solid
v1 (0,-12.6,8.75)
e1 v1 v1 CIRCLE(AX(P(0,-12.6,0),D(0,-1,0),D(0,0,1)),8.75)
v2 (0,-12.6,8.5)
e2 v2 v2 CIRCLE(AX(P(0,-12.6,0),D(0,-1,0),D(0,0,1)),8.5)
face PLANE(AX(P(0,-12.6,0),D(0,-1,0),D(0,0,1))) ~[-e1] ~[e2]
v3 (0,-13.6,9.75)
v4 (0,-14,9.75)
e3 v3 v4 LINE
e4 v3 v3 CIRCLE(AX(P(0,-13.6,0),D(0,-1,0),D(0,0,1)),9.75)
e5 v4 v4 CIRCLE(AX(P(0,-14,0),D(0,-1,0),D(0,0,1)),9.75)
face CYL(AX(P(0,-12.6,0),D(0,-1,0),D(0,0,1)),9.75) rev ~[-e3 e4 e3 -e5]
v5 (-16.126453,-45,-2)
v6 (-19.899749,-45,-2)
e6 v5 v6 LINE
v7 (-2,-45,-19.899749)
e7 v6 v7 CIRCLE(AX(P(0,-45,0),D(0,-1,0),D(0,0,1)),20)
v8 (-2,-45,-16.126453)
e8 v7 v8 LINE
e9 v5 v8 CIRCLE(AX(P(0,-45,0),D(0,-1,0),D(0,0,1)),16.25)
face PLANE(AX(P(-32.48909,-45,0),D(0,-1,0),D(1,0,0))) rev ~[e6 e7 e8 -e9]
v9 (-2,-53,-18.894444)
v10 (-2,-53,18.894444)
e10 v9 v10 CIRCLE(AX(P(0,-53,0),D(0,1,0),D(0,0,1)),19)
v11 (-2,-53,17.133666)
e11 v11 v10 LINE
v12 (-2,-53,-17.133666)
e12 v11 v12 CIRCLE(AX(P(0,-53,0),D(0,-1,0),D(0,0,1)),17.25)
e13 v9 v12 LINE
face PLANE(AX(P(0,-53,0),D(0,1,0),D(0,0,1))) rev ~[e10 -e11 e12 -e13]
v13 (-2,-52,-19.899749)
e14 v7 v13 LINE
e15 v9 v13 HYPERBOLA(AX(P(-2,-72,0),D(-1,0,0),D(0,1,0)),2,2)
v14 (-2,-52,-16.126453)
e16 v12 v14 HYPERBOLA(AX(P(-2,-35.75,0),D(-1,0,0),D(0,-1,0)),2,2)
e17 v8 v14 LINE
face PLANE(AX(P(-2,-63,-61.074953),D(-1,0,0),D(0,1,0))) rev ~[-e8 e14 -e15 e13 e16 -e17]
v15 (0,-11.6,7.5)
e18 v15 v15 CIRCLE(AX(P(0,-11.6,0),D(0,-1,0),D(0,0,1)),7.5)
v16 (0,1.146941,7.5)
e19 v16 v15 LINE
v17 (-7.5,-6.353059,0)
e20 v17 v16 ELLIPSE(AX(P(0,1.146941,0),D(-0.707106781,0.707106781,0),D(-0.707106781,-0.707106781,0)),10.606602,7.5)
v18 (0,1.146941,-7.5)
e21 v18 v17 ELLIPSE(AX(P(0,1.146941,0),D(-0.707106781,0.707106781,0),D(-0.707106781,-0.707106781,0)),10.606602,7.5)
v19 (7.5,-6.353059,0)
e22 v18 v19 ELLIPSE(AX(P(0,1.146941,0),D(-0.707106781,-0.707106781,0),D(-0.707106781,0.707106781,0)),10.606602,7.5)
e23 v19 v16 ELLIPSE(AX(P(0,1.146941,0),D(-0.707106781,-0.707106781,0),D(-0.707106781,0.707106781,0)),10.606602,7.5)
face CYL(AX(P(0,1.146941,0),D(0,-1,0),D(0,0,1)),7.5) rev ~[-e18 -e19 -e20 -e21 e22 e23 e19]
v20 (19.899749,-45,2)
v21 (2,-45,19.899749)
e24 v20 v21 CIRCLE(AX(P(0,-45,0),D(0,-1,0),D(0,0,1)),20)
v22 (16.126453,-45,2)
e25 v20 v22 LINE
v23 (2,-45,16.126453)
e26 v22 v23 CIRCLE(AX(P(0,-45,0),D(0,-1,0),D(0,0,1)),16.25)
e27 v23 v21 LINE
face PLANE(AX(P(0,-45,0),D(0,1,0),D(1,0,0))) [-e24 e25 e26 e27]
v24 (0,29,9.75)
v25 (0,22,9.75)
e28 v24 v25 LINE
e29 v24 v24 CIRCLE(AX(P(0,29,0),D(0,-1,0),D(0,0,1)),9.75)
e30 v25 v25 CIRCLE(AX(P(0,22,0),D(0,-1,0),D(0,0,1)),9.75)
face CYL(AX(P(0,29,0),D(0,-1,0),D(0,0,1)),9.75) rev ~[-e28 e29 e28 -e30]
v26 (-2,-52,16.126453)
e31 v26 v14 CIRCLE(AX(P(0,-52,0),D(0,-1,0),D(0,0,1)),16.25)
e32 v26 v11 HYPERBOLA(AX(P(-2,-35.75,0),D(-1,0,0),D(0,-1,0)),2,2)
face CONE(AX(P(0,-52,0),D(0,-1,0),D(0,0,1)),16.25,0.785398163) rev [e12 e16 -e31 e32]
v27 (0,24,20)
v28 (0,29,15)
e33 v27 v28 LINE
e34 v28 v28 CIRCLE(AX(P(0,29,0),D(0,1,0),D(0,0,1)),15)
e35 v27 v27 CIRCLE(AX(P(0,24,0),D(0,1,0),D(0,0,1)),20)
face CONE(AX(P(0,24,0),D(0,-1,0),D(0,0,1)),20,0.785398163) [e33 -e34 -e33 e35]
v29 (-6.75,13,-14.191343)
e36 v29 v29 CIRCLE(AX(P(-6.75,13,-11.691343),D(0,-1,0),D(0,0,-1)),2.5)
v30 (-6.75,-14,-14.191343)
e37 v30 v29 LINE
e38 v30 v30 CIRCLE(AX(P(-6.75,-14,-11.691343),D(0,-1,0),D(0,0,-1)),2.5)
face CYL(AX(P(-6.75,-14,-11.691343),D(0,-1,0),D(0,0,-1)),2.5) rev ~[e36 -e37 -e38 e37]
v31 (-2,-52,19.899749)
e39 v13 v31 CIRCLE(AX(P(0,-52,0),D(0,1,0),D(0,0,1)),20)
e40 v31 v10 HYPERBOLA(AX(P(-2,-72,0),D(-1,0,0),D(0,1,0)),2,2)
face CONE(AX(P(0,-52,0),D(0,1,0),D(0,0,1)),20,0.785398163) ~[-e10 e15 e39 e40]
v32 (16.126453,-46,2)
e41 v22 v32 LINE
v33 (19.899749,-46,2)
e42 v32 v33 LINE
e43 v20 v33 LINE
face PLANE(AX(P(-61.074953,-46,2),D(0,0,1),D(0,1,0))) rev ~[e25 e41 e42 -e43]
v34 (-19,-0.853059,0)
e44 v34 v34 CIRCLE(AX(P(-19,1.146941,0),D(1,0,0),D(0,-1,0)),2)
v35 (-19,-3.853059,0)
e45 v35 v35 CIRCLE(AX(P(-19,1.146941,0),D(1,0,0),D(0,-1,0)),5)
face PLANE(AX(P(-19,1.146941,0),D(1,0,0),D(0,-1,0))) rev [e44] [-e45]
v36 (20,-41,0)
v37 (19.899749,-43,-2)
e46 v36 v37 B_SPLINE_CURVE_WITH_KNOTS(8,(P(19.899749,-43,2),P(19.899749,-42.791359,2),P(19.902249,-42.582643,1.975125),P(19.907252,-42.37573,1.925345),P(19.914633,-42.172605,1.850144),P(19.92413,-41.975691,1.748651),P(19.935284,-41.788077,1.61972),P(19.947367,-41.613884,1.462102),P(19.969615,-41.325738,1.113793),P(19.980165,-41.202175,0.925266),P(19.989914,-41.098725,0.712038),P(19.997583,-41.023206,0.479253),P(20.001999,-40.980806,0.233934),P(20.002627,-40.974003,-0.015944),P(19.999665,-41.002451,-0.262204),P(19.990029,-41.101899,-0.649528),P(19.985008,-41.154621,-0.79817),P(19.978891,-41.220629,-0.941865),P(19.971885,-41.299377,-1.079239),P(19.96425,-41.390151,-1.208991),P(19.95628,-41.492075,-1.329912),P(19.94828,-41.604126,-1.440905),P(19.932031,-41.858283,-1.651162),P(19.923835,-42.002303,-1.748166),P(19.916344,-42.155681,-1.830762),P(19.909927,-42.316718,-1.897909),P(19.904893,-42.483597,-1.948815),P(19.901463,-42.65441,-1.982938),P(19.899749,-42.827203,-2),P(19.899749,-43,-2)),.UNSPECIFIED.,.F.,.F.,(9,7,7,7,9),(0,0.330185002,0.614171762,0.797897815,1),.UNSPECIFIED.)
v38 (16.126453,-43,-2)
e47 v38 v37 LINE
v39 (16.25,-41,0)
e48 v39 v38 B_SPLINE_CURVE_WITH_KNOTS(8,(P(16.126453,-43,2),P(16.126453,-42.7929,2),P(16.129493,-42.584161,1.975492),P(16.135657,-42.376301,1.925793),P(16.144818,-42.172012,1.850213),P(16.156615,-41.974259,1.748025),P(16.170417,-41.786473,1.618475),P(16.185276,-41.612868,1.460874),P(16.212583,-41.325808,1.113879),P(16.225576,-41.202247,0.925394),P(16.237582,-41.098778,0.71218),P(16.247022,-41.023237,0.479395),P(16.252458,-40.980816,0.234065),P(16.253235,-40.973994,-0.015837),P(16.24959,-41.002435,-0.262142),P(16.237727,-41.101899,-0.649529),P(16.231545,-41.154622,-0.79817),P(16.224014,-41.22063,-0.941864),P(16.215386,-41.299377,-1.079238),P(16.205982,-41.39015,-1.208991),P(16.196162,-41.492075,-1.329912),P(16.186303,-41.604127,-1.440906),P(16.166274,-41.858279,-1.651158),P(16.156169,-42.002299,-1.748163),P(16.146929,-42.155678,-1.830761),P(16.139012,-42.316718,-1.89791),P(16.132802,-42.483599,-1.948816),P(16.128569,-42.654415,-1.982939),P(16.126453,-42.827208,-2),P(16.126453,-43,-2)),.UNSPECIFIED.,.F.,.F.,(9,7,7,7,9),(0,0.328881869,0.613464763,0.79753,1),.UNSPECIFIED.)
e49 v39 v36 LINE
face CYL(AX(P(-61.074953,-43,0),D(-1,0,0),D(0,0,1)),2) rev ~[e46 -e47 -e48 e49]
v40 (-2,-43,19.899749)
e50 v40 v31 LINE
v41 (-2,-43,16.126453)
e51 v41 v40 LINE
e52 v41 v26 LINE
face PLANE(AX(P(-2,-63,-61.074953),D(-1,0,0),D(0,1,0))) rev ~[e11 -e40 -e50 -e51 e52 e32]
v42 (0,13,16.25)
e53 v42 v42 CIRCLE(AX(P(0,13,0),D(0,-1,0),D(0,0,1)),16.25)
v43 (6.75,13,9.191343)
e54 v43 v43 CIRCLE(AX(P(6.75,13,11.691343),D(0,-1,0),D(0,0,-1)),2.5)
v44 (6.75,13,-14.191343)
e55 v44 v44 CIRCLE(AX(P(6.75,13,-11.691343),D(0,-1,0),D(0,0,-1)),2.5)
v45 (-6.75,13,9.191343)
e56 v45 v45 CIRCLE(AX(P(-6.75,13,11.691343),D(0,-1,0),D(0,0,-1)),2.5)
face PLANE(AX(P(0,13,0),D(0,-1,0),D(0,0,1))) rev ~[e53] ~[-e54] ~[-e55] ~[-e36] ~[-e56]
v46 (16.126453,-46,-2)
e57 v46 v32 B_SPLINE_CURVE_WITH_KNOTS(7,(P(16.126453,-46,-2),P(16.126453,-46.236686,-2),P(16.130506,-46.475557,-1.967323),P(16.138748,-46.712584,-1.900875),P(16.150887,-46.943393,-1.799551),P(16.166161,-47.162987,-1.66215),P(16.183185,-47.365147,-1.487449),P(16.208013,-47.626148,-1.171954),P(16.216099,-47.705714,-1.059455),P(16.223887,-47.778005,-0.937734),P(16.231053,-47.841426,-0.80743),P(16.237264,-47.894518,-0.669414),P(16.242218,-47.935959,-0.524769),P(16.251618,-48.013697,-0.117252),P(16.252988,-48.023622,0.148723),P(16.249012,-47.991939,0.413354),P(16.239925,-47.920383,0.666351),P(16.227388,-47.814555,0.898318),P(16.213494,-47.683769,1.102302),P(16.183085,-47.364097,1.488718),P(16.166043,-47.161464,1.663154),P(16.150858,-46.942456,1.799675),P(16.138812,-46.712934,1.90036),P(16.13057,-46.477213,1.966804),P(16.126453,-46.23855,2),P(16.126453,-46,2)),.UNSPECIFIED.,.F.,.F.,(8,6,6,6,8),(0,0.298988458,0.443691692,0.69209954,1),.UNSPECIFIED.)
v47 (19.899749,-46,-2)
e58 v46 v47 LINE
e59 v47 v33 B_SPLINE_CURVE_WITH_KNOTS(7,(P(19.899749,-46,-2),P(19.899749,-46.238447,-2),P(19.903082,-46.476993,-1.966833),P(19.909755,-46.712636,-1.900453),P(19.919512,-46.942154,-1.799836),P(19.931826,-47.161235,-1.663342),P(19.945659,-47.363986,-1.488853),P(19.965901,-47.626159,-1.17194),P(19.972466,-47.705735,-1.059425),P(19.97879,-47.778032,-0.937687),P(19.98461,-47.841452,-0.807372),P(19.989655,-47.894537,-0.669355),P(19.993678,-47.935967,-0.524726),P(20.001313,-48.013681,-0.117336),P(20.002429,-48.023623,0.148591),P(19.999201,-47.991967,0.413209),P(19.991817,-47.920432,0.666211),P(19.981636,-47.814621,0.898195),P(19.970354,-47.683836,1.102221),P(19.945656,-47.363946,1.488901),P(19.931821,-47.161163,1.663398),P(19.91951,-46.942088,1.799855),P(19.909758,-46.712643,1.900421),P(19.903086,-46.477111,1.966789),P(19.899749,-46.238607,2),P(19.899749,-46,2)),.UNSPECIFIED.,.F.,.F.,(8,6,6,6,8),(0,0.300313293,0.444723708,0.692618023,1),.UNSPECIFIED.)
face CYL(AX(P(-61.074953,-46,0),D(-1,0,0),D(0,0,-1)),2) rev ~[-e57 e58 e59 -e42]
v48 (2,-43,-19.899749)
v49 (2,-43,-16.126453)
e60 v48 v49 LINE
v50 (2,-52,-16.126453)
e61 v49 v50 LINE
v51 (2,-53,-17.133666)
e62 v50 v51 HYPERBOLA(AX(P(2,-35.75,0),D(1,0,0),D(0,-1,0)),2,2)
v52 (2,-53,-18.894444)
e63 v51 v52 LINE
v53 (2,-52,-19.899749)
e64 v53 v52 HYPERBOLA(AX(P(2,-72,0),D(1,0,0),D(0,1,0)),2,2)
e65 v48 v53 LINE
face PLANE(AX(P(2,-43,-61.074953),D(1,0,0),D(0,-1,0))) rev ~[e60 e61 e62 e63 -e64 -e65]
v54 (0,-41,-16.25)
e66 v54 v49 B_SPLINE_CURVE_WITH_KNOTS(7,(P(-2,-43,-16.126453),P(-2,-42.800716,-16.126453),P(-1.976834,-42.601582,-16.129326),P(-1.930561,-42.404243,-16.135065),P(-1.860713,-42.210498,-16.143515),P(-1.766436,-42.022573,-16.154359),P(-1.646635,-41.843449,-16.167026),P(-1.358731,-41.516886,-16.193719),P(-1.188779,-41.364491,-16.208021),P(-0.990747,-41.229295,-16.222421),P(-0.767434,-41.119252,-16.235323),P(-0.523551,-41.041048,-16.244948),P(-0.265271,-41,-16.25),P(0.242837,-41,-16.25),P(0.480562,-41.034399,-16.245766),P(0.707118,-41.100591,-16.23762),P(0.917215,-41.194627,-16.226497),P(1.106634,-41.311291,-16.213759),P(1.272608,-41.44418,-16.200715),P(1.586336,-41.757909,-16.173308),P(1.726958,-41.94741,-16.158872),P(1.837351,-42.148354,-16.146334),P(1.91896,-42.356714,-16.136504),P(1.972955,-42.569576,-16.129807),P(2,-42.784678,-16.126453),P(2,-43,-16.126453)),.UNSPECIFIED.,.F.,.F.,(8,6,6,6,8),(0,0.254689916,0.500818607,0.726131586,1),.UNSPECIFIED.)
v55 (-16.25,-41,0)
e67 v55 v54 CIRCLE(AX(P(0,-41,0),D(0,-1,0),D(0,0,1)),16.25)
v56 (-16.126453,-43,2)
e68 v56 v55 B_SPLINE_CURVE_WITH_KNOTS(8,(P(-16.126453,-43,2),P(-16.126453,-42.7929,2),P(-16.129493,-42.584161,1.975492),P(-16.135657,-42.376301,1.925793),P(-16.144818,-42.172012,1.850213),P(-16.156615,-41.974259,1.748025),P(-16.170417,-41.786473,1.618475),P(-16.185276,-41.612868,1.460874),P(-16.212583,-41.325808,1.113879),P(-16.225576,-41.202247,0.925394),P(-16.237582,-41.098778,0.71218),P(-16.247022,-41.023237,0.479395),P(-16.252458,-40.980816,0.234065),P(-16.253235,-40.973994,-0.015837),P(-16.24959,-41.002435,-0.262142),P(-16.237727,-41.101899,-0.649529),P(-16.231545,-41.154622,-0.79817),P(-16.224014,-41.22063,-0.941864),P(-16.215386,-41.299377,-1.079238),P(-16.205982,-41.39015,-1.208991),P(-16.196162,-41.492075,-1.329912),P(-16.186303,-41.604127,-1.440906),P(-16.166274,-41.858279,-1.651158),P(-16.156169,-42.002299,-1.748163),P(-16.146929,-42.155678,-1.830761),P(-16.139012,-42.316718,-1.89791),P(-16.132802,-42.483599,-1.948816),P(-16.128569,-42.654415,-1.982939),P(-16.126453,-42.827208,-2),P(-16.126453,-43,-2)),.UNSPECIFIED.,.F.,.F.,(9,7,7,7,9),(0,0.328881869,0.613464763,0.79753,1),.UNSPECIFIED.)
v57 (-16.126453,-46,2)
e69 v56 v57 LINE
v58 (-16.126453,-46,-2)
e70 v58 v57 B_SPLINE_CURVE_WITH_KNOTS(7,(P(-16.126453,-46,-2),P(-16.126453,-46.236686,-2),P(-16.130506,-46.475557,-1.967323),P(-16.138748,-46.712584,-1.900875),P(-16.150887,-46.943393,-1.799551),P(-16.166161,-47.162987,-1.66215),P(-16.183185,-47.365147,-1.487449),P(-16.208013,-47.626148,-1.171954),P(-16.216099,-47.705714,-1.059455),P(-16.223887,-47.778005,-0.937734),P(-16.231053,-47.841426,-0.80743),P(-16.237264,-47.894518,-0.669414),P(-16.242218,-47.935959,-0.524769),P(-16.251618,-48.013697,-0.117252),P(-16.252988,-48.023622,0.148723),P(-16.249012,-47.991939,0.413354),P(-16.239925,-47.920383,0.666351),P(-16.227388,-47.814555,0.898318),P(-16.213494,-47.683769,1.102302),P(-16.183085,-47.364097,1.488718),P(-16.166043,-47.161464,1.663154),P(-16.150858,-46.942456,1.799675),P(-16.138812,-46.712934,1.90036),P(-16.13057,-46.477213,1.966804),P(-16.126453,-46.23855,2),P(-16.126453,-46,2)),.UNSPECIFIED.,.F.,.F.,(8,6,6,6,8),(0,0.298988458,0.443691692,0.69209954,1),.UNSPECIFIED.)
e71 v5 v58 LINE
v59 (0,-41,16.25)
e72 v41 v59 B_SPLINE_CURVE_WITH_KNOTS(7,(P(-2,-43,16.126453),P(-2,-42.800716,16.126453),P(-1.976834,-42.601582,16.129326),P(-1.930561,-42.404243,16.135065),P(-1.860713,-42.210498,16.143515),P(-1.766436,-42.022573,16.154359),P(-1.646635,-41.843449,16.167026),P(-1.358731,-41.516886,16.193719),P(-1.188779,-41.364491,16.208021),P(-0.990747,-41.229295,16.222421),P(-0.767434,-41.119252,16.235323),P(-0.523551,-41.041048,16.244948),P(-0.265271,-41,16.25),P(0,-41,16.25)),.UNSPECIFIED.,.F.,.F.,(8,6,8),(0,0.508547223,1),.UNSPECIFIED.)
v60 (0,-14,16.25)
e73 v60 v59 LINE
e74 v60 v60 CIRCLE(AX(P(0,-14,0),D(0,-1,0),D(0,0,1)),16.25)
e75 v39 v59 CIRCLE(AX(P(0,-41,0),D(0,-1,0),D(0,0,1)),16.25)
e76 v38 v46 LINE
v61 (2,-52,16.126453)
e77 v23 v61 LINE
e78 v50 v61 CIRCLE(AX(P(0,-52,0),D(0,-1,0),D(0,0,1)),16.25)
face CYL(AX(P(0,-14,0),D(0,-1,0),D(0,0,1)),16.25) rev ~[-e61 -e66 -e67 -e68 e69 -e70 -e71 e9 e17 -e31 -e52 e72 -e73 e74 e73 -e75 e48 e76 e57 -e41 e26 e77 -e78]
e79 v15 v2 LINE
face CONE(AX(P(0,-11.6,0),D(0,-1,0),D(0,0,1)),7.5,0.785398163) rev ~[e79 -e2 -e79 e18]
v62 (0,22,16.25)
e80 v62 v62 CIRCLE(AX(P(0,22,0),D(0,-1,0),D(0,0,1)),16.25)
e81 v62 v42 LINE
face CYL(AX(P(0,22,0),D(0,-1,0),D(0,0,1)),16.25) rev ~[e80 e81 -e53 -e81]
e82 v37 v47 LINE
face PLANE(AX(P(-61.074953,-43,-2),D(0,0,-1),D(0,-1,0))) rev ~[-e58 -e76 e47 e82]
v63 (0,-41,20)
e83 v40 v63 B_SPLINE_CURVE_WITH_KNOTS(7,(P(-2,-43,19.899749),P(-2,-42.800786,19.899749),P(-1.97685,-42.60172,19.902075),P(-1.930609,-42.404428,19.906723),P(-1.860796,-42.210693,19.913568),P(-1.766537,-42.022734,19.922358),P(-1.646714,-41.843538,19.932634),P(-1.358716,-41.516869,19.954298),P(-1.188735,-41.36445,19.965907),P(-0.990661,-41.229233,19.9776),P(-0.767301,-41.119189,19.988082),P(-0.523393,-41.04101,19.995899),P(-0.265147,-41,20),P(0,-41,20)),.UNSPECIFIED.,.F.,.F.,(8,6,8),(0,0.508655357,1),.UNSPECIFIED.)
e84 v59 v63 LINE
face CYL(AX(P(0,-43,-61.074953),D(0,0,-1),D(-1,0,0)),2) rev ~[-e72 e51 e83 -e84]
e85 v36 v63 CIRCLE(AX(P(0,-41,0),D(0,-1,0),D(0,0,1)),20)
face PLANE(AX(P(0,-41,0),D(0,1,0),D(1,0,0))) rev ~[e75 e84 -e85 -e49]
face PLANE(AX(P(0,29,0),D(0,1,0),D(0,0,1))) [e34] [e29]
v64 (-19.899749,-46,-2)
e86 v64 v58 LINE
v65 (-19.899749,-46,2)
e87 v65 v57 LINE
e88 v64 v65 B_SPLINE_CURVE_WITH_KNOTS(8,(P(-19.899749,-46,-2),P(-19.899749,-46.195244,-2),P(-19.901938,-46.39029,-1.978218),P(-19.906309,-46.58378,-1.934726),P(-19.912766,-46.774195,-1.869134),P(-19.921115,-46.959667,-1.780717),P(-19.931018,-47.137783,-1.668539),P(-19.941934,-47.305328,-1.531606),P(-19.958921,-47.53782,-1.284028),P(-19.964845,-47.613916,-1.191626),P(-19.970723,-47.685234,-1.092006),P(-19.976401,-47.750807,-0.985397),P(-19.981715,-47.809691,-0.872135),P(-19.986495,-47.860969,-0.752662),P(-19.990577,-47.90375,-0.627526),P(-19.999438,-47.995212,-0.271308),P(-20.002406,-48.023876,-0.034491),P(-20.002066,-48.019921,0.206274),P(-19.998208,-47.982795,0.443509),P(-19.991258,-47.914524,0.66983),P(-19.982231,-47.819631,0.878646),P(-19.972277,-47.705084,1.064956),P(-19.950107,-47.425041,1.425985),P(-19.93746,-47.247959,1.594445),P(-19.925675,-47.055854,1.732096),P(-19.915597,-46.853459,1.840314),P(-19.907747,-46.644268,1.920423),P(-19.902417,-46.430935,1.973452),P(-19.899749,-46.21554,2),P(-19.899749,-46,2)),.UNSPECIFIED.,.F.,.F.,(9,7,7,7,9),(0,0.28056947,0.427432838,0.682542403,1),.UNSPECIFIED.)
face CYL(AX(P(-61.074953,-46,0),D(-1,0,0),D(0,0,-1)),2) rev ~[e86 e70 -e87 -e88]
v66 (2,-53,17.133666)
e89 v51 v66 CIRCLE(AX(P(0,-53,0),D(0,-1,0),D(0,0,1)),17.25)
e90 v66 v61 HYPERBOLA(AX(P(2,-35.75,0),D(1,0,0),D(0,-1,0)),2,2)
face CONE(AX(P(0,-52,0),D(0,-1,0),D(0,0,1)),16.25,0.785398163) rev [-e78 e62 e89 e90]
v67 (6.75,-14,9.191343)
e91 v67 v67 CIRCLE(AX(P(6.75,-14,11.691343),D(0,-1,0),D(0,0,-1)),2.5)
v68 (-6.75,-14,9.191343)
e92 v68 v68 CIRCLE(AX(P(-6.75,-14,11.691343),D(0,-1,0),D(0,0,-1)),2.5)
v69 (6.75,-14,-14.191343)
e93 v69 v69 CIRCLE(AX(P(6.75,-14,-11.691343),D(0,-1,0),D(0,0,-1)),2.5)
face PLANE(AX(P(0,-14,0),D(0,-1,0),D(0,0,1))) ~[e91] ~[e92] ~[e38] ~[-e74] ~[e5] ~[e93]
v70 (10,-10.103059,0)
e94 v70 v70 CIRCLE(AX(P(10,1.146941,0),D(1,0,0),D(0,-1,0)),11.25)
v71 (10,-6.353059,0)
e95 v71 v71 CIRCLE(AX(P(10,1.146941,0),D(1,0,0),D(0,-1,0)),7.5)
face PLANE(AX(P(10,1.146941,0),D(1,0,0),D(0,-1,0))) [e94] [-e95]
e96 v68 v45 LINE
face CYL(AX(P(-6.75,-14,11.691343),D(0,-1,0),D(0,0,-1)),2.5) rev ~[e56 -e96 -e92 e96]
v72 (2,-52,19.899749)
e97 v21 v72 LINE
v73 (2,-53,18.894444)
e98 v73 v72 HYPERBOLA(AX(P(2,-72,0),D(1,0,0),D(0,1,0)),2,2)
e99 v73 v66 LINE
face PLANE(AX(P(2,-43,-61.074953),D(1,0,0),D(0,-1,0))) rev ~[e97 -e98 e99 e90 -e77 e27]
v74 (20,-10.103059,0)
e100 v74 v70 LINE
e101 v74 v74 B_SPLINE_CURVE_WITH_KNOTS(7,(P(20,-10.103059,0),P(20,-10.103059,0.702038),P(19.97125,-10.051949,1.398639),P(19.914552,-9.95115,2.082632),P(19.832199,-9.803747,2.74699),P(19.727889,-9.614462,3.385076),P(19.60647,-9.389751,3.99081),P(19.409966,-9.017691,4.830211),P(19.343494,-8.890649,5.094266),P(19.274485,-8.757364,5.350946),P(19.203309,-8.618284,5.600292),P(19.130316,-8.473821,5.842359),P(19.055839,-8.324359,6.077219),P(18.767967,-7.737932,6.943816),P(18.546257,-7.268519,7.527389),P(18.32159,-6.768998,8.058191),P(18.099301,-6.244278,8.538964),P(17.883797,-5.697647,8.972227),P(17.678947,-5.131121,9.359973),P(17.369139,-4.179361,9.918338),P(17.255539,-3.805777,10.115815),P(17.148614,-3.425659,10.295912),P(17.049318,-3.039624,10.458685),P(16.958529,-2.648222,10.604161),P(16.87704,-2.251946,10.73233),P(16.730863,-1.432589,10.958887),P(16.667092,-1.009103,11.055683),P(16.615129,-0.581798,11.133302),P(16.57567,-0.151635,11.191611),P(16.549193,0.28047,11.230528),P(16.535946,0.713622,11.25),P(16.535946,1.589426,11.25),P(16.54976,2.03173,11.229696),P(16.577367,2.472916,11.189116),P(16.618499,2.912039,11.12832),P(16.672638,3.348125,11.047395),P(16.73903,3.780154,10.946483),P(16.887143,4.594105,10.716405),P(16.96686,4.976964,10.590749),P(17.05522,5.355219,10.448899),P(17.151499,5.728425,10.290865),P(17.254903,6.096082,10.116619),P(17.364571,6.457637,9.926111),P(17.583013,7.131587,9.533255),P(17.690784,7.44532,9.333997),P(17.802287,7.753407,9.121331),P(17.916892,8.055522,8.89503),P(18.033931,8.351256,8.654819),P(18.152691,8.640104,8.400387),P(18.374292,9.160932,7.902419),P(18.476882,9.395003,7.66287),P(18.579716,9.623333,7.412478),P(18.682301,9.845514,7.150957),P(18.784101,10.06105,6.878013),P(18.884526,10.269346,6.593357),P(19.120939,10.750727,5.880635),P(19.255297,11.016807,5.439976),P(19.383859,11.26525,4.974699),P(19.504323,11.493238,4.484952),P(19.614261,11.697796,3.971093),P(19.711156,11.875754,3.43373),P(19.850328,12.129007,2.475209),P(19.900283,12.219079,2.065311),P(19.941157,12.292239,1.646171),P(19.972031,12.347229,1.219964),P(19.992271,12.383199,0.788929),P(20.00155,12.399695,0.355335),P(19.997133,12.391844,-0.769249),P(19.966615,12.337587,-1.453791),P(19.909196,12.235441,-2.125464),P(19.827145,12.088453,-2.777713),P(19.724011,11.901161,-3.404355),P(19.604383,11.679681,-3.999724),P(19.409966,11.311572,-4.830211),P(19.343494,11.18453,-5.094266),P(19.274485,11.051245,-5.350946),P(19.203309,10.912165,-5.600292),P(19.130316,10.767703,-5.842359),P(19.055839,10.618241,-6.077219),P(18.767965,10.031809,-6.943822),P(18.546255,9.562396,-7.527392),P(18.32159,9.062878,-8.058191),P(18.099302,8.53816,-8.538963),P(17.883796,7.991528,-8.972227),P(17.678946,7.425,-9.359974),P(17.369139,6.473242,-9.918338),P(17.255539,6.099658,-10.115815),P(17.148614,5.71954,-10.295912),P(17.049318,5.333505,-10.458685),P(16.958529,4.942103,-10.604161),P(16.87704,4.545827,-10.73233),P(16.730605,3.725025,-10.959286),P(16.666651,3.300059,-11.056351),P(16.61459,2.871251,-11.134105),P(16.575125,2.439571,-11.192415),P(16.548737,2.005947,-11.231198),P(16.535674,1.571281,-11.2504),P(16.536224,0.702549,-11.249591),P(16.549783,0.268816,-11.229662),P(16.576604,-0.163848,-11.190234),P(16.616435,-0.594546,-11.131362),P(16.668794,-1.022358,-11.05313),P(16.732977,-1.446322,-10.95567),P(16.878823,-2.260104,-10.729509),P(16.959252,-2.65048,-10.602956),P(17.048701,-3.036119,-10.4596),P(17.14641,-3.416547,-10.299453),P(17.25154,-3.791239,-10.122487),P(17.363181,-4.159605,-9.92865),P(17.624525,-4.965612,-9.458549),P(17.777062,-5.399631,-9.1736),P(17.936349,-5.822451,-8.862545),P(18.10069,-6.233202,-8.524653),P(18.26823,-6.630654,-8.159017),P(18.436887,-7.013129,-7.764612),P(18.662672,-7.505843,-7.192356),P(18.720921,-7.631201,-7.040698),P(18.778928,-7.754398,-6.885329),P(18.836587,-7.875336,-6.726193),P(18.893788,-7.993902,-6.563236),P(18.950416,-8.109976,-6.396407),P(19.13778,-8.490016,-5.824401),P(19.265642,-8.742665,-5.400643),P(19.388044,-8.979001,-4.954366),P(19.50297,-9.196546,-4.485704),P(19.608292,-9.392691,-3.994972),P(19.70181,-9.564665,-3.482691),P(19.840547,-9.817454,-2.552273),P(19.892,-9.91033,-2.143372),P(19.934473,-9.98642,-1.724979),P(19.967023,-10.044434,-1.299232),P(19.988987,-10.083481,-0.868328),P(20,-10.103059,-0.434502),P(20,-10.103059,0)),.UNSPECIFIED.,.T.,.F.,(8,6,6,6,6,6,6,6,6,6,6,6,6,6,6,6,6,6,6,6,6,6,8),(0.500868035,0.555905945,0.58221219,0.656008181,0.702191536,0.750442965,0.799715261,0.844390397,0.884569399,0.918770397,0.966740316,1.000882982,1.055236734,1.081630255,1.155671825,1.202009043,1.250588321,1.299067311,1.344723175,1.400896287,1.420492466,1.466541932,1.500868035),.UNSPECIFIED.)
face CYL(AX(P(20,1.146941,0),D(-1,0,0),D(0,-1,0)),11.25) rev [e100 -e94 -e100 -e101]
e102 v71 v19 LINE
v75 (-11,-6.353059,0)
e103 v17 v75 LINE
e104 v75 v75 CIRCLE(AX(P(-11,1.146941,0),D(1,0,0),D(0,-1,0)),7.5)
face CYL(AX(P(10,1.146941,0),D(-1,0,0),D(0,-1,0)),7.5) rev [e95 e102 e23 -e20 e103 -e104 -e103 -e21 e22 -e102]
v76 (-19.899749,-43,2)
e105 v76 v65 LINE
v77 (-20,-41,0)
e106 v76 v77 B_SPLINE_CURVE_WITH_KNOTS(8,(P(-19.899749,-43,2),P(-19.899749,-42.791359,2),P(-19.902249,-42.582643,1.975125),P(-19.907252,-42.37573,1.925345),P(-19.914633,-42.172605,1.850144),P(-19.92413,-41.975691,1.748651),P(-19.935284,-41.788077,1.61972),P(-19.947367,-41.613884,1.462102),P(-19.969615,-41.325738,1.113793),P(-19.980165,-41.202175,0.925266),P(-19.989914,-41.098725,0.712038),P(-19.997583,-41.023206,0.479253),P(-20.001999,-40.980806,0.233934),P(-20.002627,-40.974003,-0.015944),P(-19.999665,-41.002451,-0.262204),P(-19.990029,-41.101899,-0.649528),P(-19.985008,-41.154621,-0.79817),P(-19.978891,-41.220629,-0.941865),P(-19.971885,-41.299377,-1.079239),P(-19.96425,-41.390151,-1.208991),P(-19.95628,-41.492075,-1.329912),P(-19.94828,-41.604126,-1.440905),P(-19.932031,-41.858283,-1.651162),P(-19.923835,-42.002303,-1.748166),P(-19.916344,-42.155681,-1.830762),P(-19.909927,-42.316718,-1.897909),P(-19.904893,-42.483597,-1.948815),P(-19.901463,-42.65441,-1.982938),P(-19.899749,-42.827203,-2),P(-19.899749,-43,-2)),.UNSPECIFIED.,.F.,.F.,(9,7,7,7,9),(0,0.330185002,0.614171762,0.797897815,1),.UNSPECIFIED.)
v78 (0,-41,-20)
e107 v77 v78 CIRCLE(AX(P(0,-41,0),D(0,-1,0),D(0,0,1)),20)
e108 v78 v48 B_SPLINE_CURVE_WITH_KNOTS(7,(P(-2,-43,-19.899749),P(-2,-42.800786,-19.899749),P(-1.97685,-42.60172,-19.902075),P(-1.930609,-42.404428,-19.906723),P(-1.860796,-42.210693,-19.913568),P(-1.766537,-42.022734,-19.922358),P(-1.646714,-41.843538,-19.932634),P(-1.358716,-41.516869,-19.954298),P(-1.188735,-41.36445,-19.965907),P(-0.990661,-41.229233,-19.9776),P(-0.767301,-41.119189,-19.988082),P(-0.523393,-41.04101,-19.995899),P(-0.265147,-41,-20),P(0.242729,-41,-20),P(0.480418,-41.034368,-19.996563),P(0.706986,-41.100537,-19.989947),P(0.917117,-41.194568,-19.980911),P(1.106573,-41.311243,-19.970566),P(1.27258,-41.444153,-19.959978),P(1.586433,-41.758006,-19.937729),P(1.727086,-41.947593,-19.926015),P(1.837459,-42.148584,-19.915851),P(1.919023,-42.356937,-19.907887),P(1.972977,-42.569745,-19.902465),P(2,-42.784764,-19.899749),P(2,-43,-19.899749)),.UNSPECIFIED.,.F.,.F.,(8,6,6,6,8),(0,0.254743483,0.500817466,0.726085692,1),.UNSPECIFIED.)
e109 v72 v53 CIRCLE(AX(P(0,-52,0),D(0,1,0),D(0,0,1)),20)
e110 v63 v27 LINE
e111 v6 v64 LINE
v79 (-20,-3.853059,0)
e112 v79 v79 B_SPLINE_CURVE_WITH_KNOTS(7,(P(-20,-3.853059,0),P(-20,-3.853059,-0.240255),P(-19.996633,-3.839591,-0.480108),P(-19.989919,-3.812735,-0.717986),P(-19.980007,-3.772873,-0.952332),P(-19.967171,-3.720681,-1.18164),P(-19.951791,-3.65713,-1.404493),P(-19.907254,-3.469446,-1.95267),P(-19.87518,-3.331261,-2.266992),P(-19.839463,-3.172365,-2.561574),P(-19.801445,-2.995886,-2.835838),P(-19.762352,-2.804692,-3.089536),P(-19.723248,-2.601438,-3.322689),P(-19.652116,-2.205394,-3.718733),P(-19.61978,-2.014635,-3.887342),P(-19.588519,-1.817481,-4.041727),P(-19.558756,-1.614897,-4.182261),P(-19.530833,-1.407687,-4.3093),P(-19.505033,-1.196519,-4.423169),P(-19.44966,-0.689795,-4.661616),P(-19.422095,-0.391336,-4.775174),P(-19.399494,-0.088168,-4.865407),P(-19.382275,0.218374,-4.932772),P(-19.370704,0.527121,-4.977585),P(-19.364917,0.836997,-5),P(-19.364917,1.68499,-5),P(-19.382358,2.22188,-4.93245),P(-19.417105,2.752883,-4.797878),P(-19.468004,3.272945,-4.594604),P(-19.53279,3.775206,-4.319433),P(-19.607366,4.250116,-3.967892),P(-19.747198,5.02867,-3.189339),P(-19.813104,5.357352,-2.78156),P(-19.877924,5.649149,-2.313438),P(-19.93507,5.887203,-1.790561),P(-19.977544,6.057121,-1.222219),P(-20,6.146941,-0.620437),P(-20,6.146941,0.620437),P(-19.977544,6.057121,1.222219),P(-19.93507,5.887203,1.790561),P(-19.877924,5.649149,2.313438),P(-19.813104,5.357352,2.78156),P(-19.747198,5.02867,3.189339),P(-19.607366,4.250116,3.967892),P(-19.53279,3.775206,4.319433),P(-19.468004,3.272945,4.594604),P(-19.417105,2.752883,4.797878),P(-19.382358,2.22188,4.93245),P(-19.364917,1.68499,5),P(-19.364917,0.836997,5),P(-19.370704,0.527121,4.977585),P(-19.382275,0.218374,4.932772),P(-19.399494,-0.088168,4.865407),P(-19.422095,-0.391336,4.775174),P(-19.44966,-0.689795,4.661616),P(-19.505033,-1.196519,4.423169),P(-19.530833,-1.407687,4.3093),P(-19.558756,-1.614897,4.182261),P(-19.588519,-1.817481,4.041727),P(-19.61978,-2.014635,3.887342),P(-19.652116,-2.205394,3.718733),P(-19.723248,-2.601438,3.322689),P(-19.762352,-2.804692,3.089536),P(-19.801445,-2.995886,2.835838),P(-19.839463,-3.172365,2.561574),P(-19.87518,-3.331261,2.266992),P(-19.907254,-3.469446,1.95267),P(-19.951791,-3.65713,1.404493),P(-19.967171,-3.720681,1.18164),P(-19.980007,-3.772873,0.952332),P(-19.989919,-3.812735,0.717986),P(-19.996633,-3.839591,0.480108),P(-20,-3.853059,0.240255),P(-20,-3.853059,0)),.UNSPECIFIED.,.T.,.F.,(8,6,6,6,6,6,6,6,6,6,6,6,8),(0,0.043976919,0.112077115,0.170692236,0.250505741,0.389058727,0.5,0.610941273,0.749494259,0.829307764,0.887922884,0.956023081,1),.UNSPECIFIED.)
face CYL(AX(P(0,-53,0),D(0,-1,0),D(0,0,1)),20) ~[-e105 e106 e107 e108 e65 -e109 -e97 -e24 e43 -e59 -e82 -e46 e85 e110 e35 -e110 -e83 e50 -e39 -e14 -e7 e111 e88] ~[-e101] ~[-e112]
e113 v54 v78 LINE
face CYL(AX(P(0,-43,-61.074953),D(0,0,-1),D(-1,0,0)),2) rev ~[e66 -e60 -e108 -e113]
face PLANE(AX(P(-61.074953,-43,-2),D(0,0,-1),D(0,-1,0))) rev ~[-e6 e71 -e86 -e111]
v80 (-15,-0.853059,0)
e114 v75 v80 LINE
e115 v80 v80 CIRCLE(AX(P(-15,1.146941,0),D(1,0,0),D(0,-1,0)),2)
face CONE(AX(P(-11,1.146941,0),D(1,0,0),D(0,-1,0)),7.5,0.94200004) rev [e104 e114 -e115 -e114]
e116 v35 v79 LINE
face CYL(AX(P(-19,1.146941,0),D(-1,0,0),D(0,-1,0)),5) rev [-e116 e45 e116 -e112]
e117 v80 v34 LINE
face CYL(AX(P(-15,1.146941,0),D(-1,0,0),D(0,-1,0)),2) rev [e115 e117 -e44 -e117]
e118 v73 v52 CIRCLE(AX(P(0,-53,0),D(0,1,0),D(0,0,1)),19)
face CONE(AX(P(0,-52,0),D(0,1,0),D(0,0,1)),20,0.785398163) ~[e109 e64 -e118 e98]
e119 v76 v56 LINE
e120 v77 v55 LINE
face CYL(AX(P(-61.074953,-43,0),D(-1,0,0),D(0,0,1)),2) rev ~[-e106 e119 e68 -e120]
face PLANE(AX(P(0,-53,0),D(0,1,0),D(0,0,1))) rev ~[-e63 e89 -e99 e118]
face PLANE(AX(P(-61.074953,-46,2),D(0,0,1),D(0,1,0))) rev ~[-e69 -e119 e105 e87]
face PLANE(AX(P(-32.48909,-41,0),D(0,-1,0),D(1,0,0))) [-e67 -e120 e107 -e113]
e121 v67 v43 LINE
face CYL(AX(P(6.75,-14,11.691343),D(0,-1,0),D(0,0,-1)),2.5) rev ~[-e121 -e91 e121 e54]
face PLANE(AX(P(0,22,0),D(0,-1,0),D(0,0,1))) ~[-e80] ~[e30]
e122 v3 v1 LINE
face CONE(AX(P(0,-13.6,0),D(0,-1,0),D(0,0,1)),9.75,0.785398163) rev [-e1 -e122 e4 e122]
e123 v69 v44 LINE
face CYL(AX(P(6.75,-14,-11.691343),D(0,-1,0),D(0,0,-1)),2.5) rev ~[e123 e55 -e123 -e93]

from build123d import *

# Parameters (mm, degrees)
BOSS_EXTRUDE1_DEPTH      = 29
BOSS_EXTRUDE1_DEPTH_BACK = 53
SKETCH2_R                = 20
CHAMFER1_SIZE            = 5
CHAMFER3_SIZE            = 1
CUT_EXTRUDE1_DEPTH       = 61.074953251
CUT_EXTRUDE1_DEPTH_BACK  = 61.074953251
CUT_EXTRUDE2_DEPTH       = 61.074953261
CUT_EXTRUDE2_DEPTH_BACK  = 61.074953261
SKETCH9_W                = 39.403997472
SKETCH9_H                = 4
CUT_EXTRUDE3_DEPTH       = 61.074953261
SKETCH10_W               = 32.489089837
SKETCH10_H               = 4
CUT_EXTRUDE5_DEPTH       = 61.074953261
SKETCH12_R               = 2.5
CUT_EXTRUDE6_DEPTH       = 27


with BuildPart() as part:
    # Sketch2 → Boss-Extrude1 (new, two sides: drawn at the far end of the back side and taken through both)
    with BuildSketch(Plane(origin=(0, 0, 0), x_dir=(1, 0, 0), z_dir=(0, 1, 0)).offset(-BOSS_EXTRUDE1_DEPTH_BACK)):
        with Locations(Location((0, 0, 0), (0, 0, 270))):
            Circle(SKETCH2_R)
    extrude(amount=BOSS_EXTRUDE1_DEPTH + BOSS_EXTRUDE1_DEPTH_BACK)

    # Chamfer1
    chamfer1_edges = [part.edges().sort_by_distance(p)[0] for p in [
        (0, 29, -20),
    ]]
    chamfer(chamfer1_edges, length=CHAMFER1_SIZE)

    # Sketch3 → Cut-Revolve1 (revolve, cut)
    with BuildSketch(Plane.XY, mode=Mode.PRIVATE) as cut_revolve1_sk:
        Polygon((20, 1.146940532), (20, 12.396940532), (10, 12.396940532), (10, 8.646940532), (-11, 8.646940532), (-15, 3.146940532), (-19, 3.146940532), (-19, 6.146940532), (-20, 6.146940532), (-20, 1.146940532), align=None)
    revolve(cut_revolve1_sk.sketch.rotate(Axis((-20, 1.146940532, 0), (1, 0, 0)), 180), axis=Axis((-20, 1.146940532, 0), (1, 0, 0)), mode=Mode.SUBTRACT)

    # Sketch4 → Cut-Revolve2 (revolve, cut)
    with BuildSketch(Plane(origin=(0, 0, 0), x_dir=(0, 0, -1), z_dir=(1, 0, 0))):
        Polygon((0, 13), (0, 29), (-9.75, 29), (-9.75, 22), (-16.25, 22), (-16.25, 13), align=None)
        Polygon((0, -53), (0, 1.146940532), (-7.5, 1.146940532), (-7.5, -12.6), (-9.75, -12.6), (-9.75, -14), (-16.25, -14), (-16.25, -53), align=None)
    revolve(axis=Axis((0, 29, 0), (0, -1, 0)), mode=Mode.SUBTRACT)

    # Chamfer3
    chamfer3_edges = [part.edges().sort_by_distance(p)[0] for p in [
        (0, -12.6, -7.5),
        (0, -12.6, -9.75),
        (0, -53, -16.25),
        (0, -53, -20),
    ]]
    chamfer(chamfer3_edges, length=CHAMFER3_SIZE)

    # Sketch5 → Cut-Extrude1 (cut, two sides: drawn at the far end of the back side and taken through both)
    with BuildSketch(Plane(origin=(0, 0, 0), x_dir=(0, 0, -1), z_dir=(1, 0, 0)).offset(-CUT_EXTRUDE1_DEPTH_BACK)):
        with BuildLine():
            Line((2, -43), (2, -46))
            ThreePointArc((2, -46), (0, -48), (-2, -46))
            Line((-2, -46), (-2, -43))
            ThreePointArc((-2, -43), (0, -41), (2, -43))
        make_face()
    extrude(amount=CUT_EXTRUDE1_DEPTH + CUT_EXTRUDE1_DEPTH_BACK, mode=Mode.SUBTRACT)

    # Sketch6 → Cut-Extrude2 (cut, two sides: drawn at the far end of the back side and taken through both)
    with BuildSketch(Plane.XY.offset(-CUT_EXTRUDE2_DEPTH_BACK)):
        with BuildLine():
            Line((2, -43), (2, -63))
            ThreePointArc((2, -63), (0, -65), (-2, -63))
            Line((-2, -63), (-2, -43))
            ThreePointArc((-2, -43), (0, -41), (2, -43))
        make_face()
    extrude(amount=CUT_EXTRUDE2_DEPTH + CUT_EXTRUDE2_DEPTH_BACK, mode=Mode.SUBTRACT)

    # Sketch9 → Cut-Extrude3 (cut, through all)
    with BuildSketch(Plane.XY):
        with Locations((19.701998736, -43)):
            Rectangle(SKETCH9_W, SKETCH9_H)
    extrude(amount=CUT_EXTRUDE3_DEPTH, mode=Mode.SUBTRACT)

    # Sketch10 → Cut-Extrude5 (cut, through all)
    with BuildSketch(Plane.XY):
        with Locations((-16.244544919, -43)):
            Rectangle(SKETCH10_W, SKETCH10_H)
    extrude(amount=-CUT_EXTRUDE5_DEPTH, mode=Mode.SUBTRACT)

    # Sketch12 → Cut-Extrude6 (cut)
    with BuildSketch(Plane.XZ.offset(14)):
        with Locations(Location((6.75, 11.691342951, 0), (0, 0, 270))):
            Circle(SKETCH12_R)
        with Locations(Location((-6.75, 11.691342951, 0), (0, 0, 270))):
            Circle(SKETCH12_R)
        with Locations(Location((6.75, -11.691342951, 0), (0, 0, 270))):
            Circle(SKETCH12_R)
        with Locations(Location((-6.75, -11.691342951, 0), (0, 0, 270))):
            Circle(SKETCH12_R)
    extrude(amount=-CUT_EXTRUDE6_DEPTH, mode=Mode.SUBTRACT)


solid = part.part
